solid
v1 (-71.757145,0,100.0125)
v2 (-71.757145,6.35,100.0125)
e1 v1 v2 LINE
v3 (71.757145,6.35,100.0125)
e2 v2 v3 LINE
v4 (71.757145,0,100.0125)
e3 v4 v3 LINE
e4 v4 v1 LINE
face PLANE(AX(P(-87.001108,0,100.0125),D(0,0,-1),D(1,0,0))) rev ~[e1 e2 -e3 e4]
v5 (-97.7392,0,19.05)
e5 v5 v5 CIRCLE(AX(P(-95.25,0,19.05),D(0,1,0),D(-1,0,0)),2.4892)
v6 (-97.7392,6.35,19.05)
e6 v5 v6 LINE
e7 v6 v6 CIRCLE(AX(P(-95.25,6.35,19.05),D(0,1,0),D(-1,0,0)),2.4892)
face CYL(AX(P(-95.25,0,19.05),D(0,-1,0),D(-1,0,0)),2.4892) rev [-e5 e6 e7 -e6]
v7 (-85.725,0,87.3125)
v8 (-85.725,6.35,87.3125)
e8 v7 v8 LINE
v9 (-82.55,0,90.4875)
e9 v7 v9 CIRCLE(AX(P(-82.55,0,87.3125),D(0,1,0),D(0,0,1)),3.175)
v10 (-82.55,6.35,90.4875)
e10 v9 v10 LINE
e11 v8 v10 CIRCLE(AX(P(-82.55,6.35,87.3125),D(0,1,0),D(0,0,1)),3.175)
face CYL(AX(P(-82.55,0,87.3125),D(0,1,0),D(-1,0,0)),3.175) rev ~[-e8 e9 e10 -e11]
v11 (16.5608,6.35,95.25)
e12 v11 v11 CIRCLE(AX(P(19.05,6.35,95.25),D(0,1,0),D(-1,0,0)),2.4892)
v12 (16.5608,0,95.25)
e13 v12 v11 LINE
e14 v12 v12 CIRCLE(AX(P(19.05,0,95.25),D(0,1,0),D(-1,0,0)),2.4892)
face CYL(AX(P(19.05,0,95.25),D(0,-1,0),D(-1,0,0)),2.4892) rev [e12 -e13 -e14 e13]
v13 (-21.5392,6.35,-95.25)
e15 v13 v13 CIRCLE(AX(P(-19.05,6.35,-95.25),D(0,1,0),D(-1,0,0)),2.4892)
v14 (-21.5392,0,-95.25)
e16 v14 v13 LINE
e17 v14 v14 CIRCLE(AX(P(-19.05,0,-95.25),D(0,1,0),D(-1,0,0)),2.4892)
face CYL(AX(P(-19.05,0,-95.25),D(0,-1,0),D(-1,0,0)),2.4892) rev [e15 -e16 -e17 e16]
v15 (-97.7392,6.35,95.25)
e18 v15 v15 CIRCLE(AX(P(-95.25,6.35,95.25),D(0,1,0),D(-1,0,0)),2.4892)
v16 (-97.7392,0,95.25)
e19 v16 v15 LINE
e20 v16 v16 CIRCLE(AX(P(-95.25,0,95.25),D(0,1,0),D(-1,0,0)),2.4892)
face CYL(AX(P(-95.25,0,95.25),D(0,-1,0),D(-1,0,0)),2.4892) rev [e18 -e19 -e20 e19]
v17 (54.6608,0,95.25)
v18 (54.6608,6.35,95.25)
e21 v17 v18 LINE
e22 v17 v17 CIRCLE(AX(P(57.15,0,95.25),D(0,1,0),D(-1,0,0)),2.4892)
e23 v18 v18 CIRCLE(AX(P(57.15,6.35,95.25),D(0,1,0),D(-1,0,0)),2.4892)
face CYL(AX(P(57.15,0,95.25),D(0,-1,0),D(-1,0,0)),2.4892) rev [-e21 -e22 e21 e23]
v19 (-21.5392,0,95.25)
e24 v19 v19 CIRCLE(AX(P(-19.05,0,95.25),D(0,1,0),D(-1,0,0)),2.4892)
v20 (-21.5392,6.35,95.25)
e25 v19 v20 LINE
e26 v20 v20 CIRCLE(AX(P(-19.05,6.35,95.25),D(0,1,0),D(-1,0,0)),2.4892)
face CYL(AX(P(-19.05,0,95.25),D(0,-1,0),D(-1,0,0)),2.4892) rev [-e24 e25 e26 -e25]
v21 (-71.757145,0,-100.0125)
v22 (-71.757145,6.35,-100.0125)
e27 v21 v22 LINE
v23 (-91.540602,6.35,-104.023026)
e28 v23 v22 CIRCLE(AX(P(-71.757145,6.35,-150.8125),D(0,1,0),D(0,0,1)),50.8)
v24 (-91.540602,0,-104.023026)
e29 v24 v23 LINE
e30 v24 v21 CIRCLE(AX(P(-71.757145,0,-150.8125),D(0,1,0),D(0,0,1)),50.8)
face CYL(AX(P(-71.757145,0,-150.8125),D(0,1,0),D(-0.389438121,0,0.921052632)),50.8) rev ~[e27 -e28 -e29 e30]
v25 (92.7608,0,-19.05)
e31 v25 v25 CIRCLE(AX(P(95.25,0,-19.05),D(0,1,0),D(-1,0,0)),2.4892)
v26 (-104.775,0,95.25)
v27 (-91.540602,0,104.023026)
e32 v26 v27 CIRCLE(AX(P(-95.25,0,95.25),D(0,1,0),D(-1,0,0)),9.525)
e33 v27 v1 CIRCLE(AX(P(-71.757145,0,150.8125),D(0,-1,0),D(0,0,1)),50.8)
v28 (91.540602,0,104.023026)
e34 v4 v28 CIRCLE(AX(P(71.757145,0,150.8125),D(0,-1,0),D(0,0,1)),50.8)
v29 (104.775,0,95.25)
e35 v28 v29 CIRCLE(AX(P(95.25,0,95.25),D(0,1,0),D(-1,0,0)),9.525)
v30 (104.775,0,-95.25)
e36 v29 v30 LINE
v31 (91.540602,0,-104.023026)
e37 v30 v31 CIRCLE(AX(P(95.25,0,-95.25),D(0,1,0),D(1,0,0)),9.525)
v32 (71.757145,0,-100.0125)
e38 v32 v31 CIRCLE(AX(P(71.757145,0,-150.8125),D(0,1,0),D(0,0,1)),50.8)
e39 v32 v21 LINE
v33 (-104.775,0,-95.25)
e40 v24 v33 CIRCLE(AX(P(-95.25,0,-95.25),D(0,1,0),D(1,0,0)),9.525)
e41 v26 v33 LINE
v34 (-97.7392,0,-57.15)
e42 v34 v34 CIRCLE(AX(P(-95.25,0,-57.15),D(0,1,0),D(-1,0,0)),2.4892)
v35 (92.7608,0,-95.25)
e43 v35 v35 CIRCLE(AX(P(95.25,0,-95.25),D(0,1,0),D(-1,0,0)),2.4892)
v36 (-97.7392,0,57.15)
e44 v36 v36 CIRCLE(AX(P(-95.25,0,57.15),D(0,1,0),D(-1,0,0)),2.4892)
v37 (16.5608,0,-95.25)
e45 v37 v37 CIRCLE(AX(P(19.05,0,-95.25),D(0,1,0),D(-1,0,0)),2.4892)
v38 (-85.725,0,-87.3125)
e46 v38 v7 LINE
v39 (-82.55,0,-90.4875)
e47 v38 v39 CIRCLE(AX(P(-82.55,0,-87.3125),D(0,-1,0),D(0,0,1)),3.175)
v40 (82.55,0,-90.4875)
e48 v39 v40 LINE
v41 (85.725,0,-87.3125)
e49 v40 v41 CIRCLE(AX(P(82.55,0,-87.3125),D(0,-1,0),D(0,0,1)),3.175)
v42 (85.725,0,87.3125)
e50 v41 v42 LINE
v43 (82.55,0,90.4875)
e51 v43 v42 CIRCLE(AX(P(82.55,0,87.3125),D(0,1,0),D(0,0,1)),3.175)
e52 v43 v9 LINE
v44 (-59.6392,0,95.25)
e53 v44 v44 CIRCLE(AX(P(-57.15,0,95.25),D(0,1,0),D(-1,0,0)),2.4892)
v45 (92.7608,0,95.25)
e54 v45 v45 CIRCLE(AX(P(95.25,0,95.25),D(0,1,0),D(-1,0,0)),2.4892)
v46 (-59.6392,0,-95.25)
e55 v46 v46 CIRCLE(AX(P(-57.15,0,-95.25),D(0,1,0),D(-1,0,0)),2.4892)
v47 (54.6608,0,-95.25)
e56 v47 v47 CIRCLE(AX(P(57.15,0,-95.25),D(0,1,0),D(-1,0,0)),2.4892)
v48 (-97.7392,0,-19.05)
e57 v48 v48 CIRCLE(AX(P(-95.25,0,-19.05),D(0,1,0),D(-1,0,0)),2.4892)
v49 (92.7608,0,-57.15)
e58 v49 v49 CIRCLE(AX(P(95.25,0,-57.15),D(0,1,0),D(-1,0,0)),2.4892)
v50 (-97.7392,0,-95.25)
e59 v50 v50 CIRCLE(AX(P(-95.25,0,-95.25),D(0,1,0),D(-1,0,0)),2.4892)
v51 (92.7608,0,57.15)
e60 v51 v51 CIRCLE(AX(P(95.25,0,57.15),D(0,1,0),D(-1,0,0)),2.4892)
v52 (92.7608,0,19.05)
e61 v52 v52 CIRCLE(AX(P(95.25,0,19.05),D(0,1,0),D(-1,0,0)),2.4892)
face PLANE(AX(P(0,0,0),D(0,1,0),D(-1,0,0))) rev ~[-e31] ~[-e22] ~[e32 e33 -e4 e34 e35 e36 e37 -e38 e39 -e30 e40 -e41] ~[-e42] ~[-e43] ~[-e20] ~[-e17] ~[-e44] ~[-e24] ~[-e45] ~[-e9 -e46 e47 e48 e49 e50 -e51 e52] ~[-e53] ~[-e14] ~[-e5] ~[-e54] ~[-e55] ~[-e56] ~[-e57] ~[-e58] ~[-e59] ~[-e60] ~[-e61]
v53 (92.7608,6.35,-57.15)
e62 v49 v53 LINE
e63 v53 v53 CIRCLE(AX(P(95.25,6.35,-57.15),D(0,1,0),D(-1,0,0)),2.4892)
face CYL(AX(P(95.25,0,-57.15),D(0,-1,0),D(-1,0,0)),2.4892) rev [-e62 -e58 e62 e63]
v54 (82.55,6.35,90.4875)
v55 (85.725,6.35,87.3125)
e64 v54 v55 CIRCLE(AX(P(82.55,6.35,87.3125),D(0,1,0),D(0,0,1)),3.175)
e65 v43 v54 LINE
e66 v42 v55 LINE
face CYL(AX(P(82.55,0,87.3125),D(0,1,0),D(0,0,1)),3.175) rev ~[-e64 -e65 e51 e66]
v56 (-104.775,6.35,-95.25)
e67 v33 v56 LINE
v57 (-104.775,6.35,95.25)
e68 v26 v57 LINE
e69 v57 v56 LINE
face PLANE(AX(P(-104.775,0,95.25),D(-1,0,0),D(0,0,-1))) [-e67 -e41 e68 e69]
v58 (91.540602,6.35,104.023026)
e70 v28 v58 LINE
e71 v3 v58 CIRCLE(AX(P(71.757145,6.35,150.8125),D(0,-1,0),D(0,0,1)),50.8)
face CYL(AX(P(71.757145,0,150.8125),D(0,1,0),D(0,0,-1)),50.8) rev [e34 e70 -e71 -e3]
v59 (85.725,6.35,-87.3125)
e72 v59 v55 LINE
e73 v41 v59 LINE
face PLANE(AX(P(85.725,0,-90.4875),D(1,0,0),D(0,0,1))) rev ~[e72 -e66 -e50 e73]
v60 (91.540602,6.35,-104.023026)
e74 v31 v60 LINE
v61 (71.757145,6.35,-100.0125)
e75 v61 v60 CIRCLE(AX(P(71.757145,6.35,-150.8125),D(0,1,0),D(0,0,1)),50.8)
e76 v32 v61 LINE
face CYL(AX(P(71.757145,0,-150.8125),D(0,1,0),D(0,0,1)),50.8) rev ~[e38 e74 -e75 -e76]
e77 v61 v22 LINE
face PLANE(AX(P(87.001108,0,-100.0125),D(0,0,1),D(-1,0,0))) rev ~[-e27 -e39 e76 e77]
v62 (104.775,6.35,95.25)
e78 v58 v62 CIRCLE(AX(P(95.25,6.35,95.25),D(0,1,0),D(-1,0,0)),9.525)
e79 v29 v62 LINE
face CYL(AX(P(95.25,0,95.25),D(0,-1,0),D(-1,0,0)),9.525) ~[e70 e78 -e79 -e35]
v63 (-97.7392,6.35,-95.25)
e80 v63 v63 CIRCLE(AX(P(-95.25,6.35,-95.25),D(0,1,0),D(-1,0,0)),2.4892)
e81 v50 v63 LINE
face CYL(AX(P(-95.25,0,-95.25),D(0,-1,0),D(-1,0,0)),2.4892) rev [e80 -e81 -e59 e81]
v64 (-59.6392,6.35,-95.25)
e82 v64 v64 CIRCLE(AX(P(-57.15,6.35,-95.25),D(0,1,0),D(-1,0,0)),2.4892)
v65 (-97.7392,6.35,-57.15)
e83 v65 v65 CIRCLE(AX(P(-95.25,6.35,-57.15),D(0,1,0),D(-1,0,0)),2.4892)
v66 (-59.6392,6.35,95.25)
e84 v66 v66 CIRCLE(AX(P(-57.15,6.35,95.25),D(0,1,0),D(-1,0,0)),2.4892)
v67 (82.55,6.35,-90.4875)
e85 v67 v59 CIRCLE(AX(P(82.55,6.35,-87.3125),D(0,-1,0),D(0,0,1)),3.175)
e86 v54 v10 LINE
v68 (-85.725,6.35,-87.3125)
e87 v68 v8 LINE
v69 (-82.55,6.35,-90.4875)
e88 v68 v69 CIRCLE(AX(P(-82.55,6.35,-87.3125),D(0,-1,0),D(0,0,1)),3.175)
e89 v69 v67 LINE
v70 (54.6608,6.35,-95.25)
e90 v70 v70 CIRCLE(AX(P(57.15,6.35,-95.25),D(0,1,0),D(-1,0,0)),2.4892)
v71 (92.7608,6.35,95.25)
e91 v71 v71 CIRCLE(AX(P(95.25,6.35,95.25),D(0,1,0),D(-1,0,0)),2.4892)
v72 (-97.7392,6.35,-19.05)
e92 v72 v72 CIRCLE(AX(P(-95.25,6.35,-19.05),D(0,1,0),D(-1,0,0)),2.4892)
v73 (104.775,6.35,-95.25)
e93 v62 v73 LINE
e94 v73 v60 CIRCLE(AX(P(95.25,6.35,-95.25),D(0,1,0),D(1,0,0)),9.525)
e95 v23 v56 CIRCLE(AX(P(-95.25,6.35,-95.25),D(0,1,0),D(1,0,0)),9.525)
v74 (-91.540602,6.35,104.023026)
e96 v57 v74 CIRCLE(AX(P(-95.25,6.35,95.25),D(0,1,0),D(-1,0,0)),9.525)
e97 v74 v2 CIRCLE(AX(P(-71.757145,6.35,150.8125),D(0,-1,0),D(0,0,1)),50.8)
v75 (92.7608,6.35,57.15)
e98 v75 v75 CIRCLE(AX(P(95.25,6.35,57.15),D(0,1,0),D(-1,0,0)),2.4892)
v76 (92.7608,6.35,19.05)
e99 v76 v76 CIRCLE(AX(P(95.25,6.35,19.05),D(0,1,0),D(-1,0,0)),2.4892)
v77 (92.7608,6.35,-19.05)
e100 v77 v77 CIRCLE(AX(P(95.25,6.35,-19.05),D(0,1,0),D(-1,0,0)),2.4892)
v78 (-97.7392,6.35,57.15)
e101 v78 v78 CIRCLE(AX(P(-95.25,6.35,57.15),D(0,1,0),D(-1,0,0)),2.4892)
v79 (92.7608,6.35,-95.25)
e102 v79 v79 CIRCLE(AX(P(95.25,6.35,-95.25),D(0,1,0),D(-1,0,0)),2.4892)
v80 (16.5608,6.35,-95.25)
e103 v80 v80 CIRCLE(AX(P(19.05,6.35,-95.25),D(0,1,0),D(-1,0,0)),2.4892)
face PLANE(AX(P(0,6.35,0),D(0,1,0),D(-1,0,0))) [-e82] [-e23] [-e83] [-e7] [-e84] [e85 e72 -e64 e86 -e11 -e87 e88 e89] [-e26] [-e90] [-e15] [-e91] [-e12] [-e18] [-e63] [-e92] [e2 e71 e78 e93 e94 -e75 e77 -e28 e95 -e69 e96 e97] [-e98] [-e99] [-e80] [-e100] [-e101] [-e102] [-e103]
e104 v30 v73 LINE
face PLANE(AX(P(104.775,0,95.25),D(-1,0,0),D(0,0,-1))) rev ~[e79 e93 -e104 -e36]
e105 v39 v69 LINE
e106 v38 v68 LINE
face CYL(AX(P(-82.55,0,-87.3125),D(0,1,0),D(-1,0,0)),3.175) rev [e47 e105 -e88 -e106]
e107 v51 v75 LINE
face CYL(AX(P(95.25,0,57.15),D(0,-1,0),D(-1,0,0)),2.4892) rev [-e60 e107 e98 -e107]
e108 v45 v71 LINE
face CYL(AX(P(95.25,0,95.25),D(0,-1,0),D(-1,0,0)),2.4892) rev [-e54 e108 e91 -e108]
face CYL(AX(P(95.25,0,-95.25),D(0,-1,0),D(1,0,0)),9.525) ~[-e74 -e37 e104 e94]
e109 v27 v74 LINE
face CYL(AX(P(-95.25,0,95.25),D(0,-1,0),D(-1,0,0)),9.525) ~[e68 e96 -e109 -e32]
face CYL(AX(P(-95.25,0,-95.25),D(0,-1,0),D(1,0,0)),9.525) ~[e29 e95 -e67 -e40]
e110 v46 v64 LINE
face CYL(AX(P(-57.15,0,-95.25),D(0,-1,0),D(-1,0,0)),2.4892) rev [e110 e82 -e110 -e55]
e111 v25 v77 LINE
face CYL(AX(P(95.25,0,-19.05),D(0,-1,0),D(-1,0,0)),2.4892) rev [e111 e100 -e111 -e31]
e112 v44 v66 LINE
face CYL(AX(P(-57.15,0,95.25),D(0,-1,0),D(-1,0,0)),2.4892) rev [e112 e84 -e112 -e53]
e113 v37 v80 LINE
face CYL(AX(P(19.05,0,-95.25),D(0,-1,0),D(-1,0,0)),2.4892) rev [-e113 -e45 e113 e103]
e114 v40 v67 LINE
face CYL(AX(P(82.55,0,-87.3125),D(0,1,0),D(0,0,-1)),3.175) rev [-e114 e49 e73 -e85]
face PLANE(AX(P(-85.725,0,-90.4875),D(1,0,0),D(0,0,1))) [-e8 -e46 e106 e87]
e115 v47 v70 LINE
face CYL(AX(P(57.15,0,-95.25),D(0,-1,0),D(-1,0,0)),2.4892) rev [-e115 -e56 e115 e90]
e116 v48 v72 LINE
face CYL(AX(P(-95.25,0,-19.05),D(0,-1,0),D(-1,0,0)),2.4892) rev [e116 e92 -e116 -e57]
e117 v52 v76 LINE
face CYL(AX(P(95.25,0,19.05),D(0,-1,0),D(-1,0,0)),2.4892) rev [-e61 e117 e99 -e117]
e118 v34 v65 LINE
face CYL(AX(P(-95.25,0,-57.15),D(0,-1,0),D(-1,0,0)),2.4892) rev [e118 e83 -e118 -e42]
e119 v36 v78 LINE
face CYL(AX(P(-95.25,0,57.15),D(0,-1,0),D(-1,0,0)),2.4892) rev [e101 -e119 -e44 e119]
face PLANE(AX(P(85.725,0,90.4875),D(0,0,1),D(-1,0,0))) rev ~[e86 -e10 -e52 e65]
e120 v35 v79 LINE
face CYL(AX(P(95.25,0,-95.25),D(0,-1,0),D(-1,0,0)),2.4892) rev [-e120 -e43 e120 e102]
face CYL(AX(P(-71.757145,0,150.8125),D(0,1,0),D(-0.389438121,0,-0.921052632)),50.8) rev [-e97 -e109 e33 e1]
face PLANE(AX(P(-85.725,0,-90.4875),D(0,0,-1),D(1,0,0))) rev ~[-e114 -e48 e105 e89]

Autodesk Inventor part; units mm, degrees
ref_plane "YZ Plane" through (0, 0, 0) normal (1, 0, 0) x (0, 1, 0)
ref_plane "XZ Plane" through (0, 0, 0) normal (0, 1, 0) x (-1, 0, 0)
ref_plane "XY Plane" through (0, 0, 0) normal (0, 0, 1) x (1, 0, 0)
sketch "Battery Flat" plane through (0, 0, 0) normal (0, 0, 1) x (1, 0, 0)
  line L0 (83.566, 88.9) -> (-83.566, 88.9) construction
  line L1 (-83.566, 88.9) -> (-83.566, -88.9) construction
  line L2 (-83.566, -88.9) -> (83.566, -88.9) construction
  line L3 (83.566, -88.9) -> (83.566, 88.9) construction
  line L4 (83.566, 88.9) -> (-83.566, -88.9) construction
  line L5 (-83.566, 88.9) -> (83.566, -88.9) construction
  line L6 (83.566, -88.9) -> (-83.566, -88.9) construction
  line L7 (-83.566, -88.9) -> (-83.566, 88.9) construction
  line L8 (-83.566, 88.9) -> (83.566, 88.9) construction
  line L9 (83.566, 88.9) -> (83.566, -88.9) construction
  point P0 (0, 0)
  dimension "d39" = 167.132
  dimension "d40" = 177.8
sketch "Circuit Breaker" plane through (0, 0, 0) normal (0, 0, 1) x (1, 0, 0)
  line L0 (4.1103, 47.4016) -> (-23.8297, 47.4016) construction
  line L1 (-23.8297, 47.4016) -> (-23.8297, -9.7484) construction
  line L2 (-23.8297, -9.7484) -> (4.1103, -9.7484) construction
  line L3 (4.1103, -9.7484) -> (4.1103, 47.4016) construction
  line L4 (4.1103, 47.4016) -> (-23.8297, -9.7484) construction
  line L5 (-23.8297, 47.4016) -> (4.1103, -9.7484) construction
  circle A0 centre (-23.8297, -9.7484) radius 3.429
  circle A1 centre (4.1103, 47.4016) radius 3.429
  line L6 (4.1103, -9.7484) -> (-23.8297, -9.7484) construction
  line L7 (-23.8297, -9.7484) -> (-23.8297, 47.4016) construction
  line L8 (-23.8297, 47.4016) -> (4.1103, 47.4016) construction
  line L9 (4.1103, 47.4016) -> (4.1103, -9.7484) construction
  line L10 (14.2703, 55.6566) -> (-33.9897, 55.6566) construction
  line L11 (-33.9897, 55.6566) -> (-33.9897, -18.0034) construction
  line L12 (-33.9897, -18.0034) -> (14.2703, -18.0034) construction
  line L13 (14.2703, -18.0034) -> (14.2703, 55.6566) construction
  line L14 (14.2703, 55.6566) -> (-33.9897, -18.0034) construction
  line L15 (-33.9897, 55.6566) -> (14.2703, -18.0034) construction
  point P0 (0, 0)
  point P1 (-9.8597, 18.8266)
  dimension "d62" = 27.94
  dimension "d63" = 57.15
  dimension "d64" = 6.858
  dimension "d65" = 6.858
  dimension "d66" = 48.26
  dimension "d67" = 73.66
sketch "Sketch1" plane through (0, 0, 0) normal (0, 1, 0) x (-1, 0, 0)
  line L0 (95.25, -95.25) -> (-95.25, -95.25) construction
  line L1 (95.25, -90.4875) -> (-95.25, -90.4875)
  line L2 (-95.25, -100.0125) -> (95.25, -100.0125)
  arc A0 (95.25, -100.0125) -> (95.25, -90.4875) centre (95.25, -95.25) ccw
  arc A1 (-95.25, -90.4875) -> (-95.25, -100.0125) centre (-95.25, -95.25) ccw
  line L3 (95.25, 95.25) -> (-95.25, 95.25) construction
  line L4 (95.25, 100.0125) -> (-95.25, 100.0125)
  line L5 (-95.25, 90.4875) -> (95.25, 90.4875)
  arc A2 (95.25, 90.4875) -> (95.25, 100.0125) centre (95.25, 95.25) ccw
  arc A3 (-95.25, 100.0125) -> (-95.25, 90.4875) centre (-95.25, 95.25) ccw
  line L6 (95.25, -95.25) -> (95.25, 95.25) construction
  line L7 (85.725, -95.25) -> (85.725, 95.25)
  line L8 (104.775, 95.25) -> (104.775, -95.25)
  arc A4 (85.725, -95.25) -> (104.775, -95.25) centre (95.25, -95.25) ccw
  arc A5 (104.775, 95.25) -> (85.725, 95.25) centre (95.25, 95.25) ccw
  line L9 (-95.25, -95.25) -> (-95.25, 95.25) construction
  line L10 (-85.725, -95.25) -> (-85.725, 95.25)
  line L11 (-104.775, 95.25) -> (-104.775, -95.25)
  arc A6 (-104.775, -95.25) -> (-85.725, -95.25) centre (-95.25, -95.25) ccw
  arc A7 (-85.725, 95.25) -> (-104.775, 95.25) centre (-95.25, 95.25) ccw
  circle A8 centre (95.25, -95.25) radius 2.4892
  circle A9 centre (95.25, 95.25) radius 2.4892
  circle A10 centre (57.15, -95.25) radius 2.4892
  circle A11 centre (57.15, 95.25) radius 2.4892
  circle A12 centre (19.05, -95.25) radius 2.4892
  circle A13 centre (19.05, 95.25) radius 2.4892
  circle A14 centre (-19.05, -95.25) radius 2.4892
  circle A15 centre (-19.05, 95.25) radius 2.4892
  circle A16 centre (-57.15, -95.25) radius 2.4892
  circle A17 centre (-57.15, 95.25) radius 2.4892
  circle A18 centre (-95.25, -95.25) radius 2.4892
  circle A19 centre (-95.25, 95.25) radius 2.4892
  circle A20 centre (95.25, 57.15) radius 2.4892
  circle A21 centre (-95.25, 57.15) radius 2.4892
  circle A22 centre (95.25, 19.05) radius 2.4892
  circle A23 centre (-95.25, 19.05) radius 2.4892
  circle A24 centre (95.25, -19.05) radius 2.4892
  circle A25 centre (-95.25, -19.05) radius 2.4892
  circle A26 centre (95.25, -57.15) radius 2.4892
  circle A27 centre (-95.25, -57.15) radius 2.4892
  line L12 (-3.175, 100.0125) -> (-3.175, 150.8125)
  line L13 (-3.175, 150.8125) -> (-79.375, 150.8125)
  line L14 (-79.375, 150.8125) -> (-79.375, 100.0125)
  point P0 (0, 0)
  point P1 (0, 0)
  point P2 (0, -95.25)
  point P3 (0, 95.25)
  point P4 (95.25, 0)
  point P5 (-95.25, 0)
  point P6 (0, 0)
  point P7 (0, 0)
  point P8 (85.725, -90.4875)
  point P9 (-85.725, -90.4875)
  point P10 (-85.725, 90.4875)
  point P11 (85.725, 90.4875)
  point P12 (87.0011, -100.0125)
  point P13 (87.0011, 100.0125)
  point P14 (-87.0011, 100.0125)
  point P15 (-87.0011, -100.0125)
  point P16 (-41.275, 150.8125)
  point P17 (-41.275, 150.8125)
  point P18 (-41.275, 125.4125)
  point P19 (-41.275, 125.4125)
  point P20 (-3.175, 125.4125)
  point P21 (-41.275, 125.4125)
  dimension "d41" = 190.5
  dimension "d42" = 190.5
  dimension "d43" = 9.525
  dimension "d44" = 19.05
  dimension "d45" = 4.9784
  dimension "d48" = 38.1
  dimension "d55" = 38.1
  dimension "d60" = 38.1
  dimension "d68" = 76.2
  dimension "d69" = 50.8
  dimension "d75" = 25.4
extrude "Extrusion1" add sketch "Sketch1" along normal blind 6.35 contours A0 L2 A4 L7 L1 | L1 L7 L5 A2 L4 A5 L8 A4 L2 A0 | L7 A4 L2 A6 L10 L1 | L10 A6 L2 A1 L1 | L1 A1 L2 A6 L11 A7 L4 A3 L5 L10 | L7 A5 L4 A2 L5 | L5 L10 A7 L4 A5 L7 | L5 A3 L4 A7 L10
fillet "Fillet1" radius 50.8 4 edges at (87.0011, 3.175, 100.0125) (-87.0011, 3.175, 100.0125) (-87.0011, 3.175, -100.0125) (87.0011, 3.175, -100.0125)
fillet "Fillet1" radius 3.175 4 edges at (-85.725, 3.175, -90.4875) (85.725, 3.175, -90.4875) (85.725, 3.175, 90.4875) (-85.725, 3.175, 90.4875)
extrude "Extrusion2" [suppressed]
fillet "Fillet2" [suppressed]
sketch "Sketch2" plane through (0, 6.35, 0) normal (0, 1, 0) x (1, 0, 0)
  arc A0 (91.5406, -104.023) -> (71.7571, -100.0125) centre (71.7571, -150.8125) ccw projected
  arc A1 (91.5406, -104.023) -> (104.775, -95.25) centre (95.25, -95.25) ccw projected
  line L0 (104.775, -95.25) -> (104.775, 95.25) projected
  arc A2 (104.775, 95.25) -> (91.5406, 104.023) centre (95.25, 95.25) ccw projected
  arc A3 (71.7571, 100.0125) -> (91.5406, 104.023) centre (71.7571, 150.8125) ccw projected
  line L1 (71.7571, 100.0125) -> (-71.7571, 100.0125) projected
  arc A4 (-91.5406, 104.023) -> (-71.7571, 100.0125) centre (-71.7571, 150.8125) ccw projected
  arc A5 (-91.5406, 104.023) -> (-104.775, 95.25) centre (-95.25, 95.25) ccw projected
  line L2 (-104.775, 95.25) -> (-104.775, -95.25) projected
  arc A6 (-104.775, -95.25) -> (-91.5406, -104.023) centre (-95.25, -95.25) ccw projected
  arc A7 (-71.7571, -100.0125) -> (-91.5406, -104.023) centre (-71.7571, -150.8125) ccw projected
  line L3 (-71.7571, -100.0125) -> (71.7571, -100.0125) projected
  circle A8 centre (-95.25, 95.25) radius 2.4892 projected
  circle A9 centre (-57.15, 95.25) radius 2.4892 projected
  circle A10 centre (-19.05, 95.25) radius 2.4892 projected
  circle A11 centre (19.05, 95.25) radius 2.4892 projected
  circle A12 centre (57.15, 95.25) radius 2.4892 projected
  circle A13 centre (95.25, 95.25) radius 2.4892 projected
  circle A14 centre (-95.25, 57.15) radius 2.4892 projected
  circle A15 centre (-95.25, 19.05) radius 2.4892 projected
  circle A16 centre (-95.25, -19.05) radius 2.4892 projected
  circle A17 centre (-95.25, -57.15) radius 2.4892 projected
  circle A18 centre (-95.25, -95.25) radius 2.4892 projected
  circle A19 centre (-57.15, -95.25) radius 2.4892 projected
  circle A20 centre (-19.05, -95.25) radius 2.4892 projected
  circle A21 centre (19.05, -95.25) radius 2.4892 projected
  circle A22 centre (57.15, -95.25) radius 2.4892 projected
  circle A23 centre (95.25, -95.25) radius 2.4892 projected
  circle A24 centre (95.25, 57.15) radius 2.4892 projected
  circle A25 centre (95.25, -57.15) radius 2.4892 projected
  circle A26 centre (95.25, -19.05) radius 2.4892 projected
  circle A27 centre (95.25, 19.05) radius 2.4892 projected
  line L4 (-82.55, 90.4875) -> (82.55, 90.4875) projected
  arc A28 (85.725, 87.3125) -> (82.55, 90.4875) centre (82.55, 87.3125) ccw projected
  line L5 (85.725, 87.3125) -> (85.725, -87.3125) projected
  arc A29 (82.55, -90.4875) -> (85.725, -87.3125) centre (82.55, -87.3125) ccw projected
  line L6 (82.55, -90.4875) -> (-82.55, -90.4875) projected
  arc A30 (-85.725, -87.3125) -> (-82.55, -90.4875) centre (-82.55, -87.3125) ccw projected
  line L7 (-85.725, -87.3125) -> (-85.725, 87.3125) projected
  arc A31 (-82.55, 90.4875) -> (-85.725, 87.3125) centre (-82.55, 87.3125) ccw projected
  arc A32 (7.9375, -144.4625) -> (9.525, -146.05) centre (9.525, -144.4625) ccw
  line L8 (7.9375, -144.4625) -> (7.9375, -106.3625)
  arc A33 (7.9375, -106.3625) -> (-3.175, -95.25) centre (-3.175, -106.3625) ccw
  line L9 (-3.175, -95.25) -> (-71.7571, -95.25)
  arc A34 (-71.7571, -95.25) -> (-93.3953, -99.6365) centre (-71.7571, -150.8125) ccw
  arc A35 (-100.0125, -95.25) -> (-93.3953, -99.6365) centre (-95.25, -95.25) ccw
  line L10 (-100.0125, -95.25) -> (-100.0125, 95.25)
  arc A36 (-93.3953, 99.6365) -> (-100.0125, 95.25) centre (-95.25, 95.25) ccw
  arc A37 (-93.3953, 99.6365) -> (-71.7571, 95.25) centre (-71.7571, 150.8125) ccw
  line L11 (-71.7571, 95.25) -> (71.7571, 95.25)
  arc A38 (71.7571, 95.25) -> (93.3953, 99.6365) centre (71.7571, 150.8125) ccw
  arc A39 (100.0125, 95.25) -> (93.3953, 99.6365) centre (95.25, 95.25) ccw
  line L12 (100.0125, 95.25) -> (100.0125, -95.25)
  arc A40 (93.3953, -99.6365) -> (100.0125, -95.25) centre (95.25, -95.25) ccw
  arc A41 (93.3953, -99.6365) -> (89.217, -98.0646) centre (71.7571, -150.8125) ccw
  arc A42 (89.217, -98.0646) -> (74.6125, -108.6141) centre (85.725, -108.6141) ccw
  line L13 (74.6125, -108.6141) -> (74.6125, -144.4625)
  arc A43 (73.025, -146.05) -> (74.6125, -144.4625) centre (73.025, -144.4625) ccw
  line L14 (73.025, -146.05) -> (9.525, -146.05)
  arc A44 (3.175, -106.3625) -> (-3.175, -100.0125) centre (-3.175, -106.3625) ccw projected
  line L15 (-3.175, -100.0125) -> (78.6894, -100.0125)
  line L16 (-3.175, -104.775) -> (78.6894, -104.775)
  circle A45 centre (12.7, -111.4425) radius 7.9375
  circle A46 centre (69.85, -139.3825) radius 7.9375
  line L17 (12.7, -111.4425) -> (69.85, -139.3825) construction
  line L18 (11.6541, -113.5818) -> (68.8041, -141.5218)
  line L19 (70.8959, -137.2432) -> (13.7459, -109.3032)
  arc A47 (13.7459, -109.3032) -> (11.6541, -113.5818) centre (12.7, -111.4425) ccw
  arc A48 (68.8041, -141.5218) -> (70.8959, -137.2432) centre (69.85, -139.3825) ccw
  line L20 (2.8572, -144.1945) -> (79.6928, -106.6305) construction
  line L21 (3.9031, -146.3338) -> (80.7387, -108.7697)
  line L22 (78.6469, -104.4912) -> (1.8113, -142.0553)
  arc A49 (1.8113, -142.0553) -> (3.9031, -146.3338) centre (2.8572, -144.1945) ccw
  arc A50 (80.7387, -108.7697) -> (78.6469, -104.4912) centre (79.6928, -106.6305) ccw
  line L23 (41.275, -125.4125) -> (41.275, -104.775) construction
  point P0 (0, 0)
  point P1 (74.6125, -111.7648)
  point P2 (46.6967, -125.4125)
  point P3 (64.0934, -133.9176)
  point P4 (74.6125, -133.0325)
  point P5 (41.275, -122.7619)
  point P6 (74.8457, -106.3496)
  point P7 (75.2967, -104.775)
  point P8 (17.0068, -104.775)
  point P9 (20.5483, -112.6289)
  point P10 (7.9375, -139.0602)
  point P11 (35.8533, -125.4125)
  point P12 (18.4566, -116.9074)
  point P13 (7.9375, -117.7925)
  point P14 (65.5432, -146.05)
  point P15 (62.0017, -138.1961)
  point P16 (41.275, -128.0631)
  point P17 (7.9375, -144.3614)
  dimension "d77" = 4.7625
  dimension "d78" = 15.875
  dimension "d79" = 4.7625
  dimension "d80" = 4.7625
extrude "Extrusion3" [suppressed]
fillet "Fillet3" [suppressed]
equation "\"d42\" = d41"
properties part number "7525-18-800-002 Battery Mount" material "Aluminum 6061"
